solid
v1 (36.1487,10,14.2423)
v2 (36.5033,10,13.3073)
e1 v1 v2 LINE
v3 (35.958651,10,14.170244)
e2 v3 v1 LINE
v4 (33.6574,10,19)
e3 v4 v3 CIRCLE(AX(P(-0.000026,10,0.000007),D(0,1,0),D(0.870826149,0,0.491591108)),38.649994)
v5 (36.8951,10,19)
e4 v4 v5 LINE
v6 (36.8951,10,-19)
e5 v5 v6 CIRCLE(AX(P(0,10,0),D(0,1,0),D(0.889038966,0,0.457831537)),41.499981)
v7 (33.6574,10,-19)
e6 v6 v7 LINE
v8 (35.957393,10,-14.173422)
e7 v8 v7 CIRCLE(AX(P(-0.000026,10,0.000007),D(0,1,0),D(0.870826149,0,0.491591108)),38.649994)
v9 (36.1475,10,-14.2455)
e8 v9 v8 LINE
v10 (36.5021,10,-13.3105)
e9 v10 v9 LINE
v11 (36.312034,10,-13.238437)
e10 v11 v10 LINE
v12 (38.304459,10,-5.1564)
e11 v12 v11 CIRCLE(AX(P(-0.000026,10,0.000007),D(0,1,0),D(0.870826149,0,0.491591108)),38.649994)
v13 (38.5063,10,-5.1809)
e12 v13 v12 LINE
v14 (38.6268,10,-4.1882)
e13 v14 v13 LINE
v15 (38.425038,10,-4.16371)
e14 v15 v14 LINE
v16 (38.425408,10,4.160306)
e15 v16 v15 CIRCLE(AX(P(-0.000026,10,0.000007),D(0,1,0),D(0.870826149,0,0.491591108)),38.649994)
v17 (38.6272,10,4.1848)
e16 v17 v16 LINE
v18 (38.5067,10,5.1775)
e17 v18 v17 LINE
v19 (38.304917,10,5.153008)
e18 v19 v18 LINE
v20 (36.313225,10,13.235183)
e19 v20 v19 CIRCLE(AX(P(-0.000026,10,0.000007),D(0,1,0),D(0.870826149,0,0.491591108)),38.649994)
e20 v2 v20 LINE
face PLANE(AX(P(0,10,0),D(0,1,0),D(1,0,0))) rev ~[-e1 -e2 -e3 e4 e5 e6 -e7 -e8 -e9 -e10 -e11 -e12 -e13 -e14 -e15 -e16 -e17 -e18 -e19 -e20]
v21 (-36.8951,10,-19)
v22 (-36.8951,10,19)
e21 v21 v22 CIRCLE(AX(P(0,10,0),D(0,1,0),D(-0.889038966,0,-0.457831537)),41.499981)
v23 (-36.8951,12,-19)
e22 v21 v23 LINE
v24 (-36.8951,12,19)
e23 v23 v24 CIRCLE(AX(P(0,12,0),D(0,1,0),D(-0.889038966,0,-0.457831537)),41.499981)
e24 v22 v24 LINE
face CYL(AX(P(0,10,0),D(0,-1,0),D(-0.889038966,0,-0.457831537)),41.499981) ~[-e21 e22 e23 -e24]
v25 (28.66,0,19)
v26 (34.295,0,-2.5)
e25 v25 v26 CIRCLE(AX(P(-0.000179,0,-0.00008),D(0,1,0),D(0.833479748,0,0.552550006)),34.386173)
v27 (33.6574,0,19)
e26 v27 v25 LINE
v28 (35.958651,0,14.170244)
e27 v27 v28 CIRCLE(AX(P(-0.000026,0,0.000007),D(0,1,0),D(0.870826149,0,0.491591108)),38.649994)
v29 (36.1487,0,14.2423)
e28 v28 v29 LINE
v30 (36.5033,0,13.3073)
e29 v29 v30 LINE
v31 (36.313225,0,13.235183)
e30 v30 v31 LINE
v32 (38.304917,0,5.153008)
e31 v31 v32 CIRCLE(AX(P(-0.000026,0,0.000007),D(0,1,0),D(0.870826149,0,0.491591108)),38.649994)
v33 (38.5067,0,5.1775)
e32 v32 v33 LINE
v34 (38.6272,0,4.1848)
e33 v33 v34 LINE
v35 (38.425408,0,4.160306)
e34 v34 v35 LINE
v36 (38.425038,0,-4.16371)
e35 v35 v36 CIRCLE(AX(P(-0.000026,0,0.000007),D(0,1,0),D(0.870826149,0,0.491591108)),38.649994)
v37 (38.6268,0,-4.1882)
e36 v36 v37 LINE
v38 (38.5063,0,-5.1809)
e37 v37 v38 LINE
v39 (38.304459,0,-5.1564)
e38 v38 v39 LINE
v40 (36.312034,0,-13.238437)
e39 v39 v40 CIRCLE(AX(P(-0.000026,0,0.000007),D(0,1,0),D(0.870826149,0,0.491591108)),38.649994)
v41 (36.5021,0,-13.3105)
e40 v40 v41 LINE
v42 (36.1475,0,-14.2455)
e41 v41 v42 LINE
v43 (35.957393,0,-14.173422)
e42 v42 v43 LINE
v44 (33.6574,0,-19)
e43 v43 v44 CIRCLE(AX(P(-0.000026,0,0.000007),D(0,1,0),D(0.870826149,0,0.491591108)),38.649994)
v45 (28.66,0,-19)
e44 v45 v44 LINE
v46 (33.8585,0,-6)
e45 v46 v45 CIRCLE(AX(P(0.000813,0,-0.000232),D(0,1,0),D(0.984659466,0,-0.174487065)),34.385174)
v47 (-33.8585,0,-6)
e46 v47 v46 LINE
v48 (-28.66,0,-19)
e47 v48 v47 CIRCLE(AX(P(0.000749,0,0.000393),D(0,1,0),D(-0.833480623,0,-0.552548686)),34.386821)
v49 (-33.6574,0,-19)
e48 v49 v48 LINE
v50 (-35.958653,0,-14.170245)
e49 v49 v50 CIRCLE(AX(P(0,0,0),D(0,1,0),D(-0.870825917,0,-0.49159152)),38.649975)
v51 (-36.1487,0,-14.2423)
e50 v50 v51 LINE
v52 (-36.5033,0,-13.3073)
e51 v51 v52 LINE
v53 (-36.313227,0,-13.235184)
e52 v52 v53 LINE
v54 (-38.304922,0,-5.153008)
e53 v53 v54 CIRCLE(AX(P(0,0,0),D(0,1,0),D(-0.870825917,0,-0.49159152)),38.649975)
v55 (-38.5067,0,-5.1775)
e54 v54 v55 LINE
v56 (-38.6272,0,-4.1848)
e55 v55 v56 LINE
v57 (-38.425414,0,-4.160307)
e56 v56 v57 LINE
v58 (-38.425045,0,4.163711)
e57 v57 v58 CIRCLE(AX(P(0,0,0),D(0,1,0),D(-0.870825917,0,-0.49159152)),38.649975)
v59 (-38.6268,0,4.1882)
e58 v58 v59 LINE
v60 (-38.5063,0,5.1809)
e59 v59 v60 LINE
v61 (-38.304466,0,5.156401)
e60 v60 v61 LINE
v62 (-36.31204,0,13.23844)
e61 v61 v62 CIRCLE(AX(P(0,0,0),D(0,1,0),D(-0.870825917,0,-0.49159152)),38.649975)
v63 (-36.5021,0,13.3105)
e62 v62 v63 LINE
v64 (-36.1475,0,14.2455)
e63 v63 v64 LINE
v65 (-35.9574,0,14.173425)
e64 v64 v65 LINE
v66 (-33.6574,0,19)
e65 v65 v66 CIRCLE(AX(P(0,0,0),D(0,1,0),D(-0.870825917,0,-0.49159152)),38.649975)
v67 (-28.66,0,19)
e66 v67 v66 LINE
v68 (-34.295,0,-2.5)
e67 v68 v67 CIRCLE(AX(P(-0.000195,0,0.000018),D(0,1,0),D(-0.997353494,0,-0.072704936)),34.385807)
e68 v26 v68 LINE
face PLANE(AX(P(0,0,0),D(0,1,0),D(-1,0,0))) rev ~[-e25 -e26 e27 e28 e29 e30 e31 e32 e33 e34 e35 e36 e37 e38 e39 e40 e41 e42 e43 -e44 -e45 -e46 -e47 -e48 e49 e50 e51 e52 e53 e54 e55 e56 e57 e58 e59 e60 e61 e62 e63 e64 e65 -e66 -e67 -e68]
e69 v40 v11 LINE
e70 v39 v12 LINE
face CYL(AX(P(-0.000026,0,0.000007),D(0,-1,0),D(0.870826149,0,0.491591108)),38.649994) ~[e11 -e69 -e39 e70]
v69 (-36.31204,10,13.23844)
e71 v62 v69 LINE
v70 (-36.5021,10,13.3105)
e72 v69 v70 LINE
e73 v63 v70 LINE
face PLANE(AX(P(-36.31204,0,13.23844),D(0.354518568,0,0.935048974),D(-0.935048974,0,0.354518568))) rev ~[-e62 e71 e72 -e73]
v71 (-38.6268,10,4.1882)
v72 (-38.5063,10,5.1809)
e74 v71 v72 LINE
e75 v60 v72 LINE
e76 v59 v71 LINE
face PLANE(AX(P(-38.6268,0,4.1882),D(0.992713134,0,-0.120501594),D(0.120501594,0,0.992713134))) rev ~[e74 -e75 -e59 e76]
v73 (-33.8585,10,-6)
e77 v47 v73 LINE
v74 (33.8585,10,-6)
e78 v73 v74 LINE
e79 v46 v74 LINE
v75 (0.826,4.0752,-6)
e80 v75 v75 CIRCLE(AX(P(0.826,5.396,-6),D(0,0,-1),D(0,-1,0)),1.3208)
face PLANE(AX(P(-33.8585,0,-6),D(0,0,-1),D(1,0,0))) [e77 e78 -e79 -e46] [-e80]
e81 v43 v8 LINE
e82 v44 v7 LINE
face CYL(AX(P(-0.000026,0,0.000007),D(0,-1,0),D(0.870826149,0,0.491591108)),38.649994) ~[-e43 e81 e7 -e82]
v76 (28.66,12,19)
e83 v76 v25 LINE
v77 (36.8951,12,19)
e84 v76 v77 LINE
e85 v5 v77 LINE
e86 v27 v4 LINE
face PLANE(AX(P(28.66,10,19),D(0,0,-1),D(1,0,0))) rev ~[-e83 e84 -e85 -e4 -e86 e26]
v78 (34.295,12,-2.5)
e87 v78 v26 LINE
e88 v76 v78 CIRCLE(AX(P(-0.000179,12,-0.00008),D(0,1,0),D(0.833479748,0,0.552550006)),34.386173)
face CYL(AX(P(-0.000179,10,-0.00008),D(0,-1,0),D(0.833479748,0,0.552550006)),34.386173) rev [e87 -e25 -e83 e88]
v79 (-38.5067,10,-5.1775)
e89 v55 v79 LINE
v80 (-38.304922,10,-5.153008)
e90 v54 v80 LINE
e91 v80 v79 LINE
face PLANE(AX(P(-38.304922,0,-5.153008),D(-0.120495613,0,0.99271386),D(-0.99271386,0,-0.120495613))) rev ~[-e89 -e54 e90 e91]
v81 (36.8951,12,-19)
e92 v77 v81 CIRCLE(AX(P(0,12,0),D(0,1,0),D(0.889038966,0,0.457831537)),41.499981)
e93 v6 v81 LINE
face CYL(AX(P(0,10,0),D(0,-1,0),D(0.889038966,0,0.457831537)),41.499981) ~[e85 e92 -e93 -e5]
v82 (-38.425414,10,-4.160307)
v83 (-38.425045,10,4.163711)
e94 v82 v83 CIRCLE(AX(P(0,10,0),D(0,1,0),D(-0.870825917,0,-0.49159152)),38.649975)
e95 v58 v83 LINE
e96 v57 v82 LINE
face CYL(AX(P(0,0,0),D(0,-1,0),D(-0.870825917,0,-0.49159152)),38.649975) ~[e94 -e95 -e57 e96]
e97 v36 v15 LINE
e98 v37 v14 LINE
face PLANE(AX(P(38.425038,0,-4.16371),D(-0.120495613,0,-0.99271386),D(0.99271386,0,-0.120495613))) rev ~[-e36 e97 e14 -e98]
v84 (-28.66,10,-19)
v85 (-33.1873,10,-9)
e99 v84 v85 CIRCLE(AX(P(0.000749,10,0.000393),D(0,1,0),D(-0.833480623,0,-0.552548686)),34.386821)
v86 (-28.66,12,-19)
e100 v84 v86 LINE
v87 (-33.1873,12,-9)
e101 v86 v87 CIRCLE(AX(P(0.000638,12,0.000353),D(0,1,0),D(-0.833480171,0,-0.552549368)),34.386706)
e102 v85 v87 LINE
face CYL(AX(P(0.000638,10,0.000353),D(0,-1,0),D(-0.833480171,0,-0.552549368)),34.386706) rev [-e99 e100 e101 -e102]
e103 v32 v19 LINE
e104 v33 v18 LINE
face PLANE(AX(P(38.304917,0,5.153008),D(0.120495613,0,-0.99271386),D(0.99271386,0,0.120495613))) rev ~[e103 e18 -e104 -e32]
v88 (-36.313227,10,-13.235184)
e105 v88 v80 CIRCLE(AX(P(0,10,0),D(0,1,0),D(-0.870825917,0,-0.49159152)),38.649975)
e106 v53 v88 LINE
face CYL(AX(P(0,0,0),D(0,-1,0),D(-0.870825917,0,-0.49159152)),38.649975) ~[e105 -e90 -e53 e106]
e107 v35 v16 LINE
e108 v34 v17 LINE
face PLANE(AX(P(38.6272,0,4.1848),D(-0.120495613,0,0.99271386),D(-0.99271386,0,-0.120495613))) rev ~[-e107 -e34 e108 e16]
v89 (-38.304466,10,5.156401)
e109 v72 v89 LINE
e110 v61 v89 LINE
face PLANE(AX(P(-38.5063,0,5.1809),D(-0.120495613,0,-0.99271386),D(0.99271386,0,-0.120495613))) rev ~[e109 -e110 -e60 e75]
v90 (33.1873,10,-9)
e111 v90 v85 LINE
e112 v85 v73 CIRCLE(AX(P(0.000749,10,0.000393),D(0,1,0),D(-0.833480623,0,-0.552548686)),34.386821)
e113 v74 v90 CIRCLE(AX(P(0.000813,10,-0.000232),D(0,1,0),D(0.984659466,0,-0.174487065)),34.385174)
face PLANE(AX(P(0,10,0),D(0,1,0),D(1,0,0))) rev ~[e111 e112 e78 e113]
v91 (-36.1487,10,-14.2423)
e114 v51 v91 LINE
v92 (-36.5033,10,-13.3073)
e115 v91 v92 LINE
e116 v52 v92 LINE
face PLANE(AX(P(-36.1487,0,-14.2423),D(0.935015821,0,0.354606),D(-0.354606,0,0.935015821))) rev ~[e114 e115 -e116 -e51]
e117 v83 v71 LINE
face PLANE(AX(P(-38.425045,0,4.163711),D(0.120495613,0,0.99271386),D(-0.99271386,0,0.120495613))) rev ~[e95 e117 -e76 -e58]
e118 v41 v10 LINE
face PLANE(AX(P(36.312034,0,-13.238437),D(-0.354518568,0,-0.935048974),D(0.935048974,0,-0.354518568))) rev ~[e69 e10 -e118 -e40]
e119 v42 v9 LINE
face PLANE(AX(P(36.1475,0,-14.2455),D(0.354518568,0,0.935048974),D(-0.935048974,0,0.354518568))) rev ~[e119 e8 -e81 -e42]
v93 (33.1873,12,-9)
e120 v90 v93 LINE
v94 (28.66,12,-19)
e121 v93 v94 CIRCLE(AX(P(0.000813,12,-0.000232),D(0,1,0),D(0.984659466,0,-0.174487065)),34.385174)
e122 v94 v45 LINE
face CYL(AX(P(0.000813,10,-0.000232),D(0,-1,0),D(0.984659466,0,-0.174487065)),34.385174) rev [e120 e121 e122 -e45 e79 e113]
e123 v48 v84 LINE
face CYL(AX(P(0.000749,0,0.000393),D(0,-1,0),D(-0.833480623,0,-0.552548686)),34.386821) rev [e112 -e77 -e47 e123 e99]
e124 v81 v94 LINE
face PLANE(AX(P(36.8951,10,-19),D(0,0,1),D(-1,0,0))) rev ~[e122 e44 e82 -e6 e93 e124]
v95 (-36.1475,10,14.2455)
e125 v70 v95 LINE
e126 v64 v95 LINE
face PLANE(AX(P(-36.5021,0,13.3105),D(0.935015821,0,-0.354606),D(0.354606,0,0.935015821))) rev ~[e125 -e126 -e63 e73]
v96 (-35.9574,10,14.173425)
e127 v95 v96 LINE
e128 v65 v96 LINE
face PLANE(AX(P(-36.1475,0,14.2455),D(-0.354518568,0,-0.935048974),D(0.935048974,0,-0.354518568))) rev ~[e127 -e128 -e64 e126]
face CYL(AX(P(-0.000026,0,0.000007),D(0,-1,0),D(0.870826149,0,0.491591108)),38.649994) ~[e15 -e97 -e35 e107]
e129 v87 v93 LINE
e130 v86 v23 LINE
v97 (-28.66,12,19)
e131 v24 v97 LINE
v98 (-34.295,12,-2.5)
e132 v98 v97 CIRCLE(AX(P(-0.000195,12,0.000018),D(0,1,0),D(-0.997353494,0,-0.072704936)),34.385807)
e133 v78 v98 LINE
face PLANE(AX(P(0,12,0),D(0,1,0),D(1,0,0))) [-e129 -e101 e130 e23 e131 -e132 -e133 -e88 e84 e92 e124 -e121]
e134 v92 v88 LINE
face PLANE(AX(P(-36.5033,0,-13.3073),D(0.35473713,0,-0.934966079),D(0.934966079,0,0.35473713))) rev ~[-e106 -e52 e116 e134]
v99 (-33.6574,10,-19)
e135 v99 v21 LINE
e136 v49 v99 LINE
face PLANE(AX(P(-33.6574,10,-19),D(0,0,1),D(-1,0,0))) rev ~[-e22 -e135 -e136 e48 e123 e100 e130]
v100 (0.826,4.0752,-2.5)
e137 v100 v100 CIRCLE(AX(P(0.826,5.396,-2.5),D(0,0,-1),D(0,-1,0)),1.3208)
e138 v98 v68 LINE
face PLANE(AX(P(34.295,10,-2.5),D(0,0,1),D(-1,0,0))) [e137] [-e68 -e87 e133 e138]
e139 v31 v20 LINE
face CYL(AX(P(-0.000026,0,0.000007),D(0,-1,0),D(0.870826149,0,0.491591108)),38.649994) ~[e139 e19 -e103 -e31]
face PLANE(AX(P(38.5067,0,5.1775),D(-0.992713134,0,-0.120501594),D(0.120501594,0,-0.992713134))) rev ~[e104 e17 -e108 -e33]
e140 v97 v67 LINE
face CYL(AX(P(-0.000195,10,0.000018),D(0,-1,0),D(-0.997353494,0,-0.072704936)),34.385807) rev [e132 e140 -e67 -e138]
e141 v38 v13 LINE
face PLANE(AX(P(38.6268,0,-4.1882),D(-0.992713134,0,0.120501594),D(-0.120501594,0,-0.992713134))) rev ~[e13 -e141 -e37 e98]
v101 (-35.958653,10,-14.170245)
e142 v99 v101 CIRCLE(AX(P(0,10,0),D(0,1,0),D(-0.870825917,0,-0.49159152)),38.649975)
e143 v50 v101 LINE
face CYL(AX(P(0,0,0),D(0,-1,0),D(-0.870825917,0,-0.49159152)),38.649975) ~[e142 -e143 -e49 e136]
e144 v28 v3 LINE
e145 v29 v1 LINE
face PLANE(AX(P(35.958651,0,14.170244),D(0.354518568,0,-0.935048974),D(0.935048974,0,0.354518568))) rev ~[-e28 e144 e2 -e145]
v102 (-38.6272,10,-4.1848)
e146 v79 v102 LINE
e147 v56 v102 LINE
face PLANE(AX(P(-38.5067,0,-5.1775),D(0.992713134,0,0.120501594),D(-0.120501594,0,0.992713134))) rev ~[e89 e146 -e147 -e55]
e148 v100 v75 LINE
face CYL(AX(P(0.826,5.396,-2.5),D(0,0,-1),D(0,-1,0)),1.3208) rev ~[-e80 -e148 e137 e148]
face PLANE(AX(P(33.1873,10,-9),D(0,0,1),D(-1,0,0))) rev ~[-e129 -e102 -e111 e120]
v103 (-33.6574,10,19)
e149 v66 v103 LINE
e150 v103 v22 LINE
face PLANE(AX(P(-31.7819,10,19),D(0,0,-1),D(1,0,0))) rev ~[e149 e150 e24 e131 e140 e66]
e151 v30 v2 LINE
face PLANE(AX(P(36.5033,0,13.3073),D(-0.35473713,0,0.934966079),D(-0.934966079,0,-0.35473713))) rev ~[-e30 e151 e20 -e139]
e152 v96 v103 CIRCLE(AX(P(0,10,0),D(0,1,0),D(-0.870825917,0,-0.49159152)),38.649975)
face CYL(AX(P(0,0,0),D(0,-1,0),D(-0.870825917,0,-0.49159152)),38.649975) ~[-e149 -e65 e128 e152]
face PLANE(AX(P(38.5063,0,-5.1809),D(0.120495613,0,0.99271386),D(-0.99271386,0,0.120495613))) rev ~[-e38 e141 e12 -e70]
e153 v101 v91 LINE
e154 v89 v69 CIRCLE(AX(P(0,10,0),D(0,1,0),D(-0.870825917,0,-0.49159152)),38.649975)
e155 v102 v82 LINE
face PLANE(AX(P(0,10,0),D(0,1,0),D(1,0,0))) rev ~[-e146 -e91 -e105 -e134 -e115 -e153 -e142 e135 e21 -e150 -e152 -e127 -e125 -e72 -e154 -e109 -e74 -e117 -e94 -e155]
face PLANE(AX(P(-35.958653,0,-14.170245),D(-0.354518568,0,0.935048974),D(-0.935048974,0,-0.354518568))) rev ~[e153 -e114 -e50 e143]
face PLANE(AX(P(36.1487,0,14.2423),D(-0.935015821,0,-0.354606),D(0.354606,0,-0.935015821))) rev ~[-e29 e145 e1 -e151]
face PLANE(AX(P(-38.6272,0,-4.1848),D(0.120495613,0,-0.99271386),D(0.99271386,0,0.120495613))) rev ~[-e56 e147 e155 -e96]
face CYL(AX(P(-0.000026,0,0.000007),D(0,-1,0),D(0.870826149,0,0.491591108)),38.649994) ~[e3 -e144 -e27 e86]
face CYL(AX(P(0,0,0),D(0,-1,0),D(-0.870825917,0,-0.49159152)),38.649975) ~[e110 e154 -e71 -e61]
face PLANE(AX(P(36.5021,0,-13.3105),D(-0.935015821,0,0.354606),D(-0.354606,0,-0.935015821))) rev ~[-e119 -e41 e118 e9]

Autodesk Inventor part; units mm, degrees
ref_plane "YZ Plane" through (0, 0, 0) normal (1, 0, 0) x (0, 1, 0)
ref_plane "XZ Plane" through (0, 0, 0) normal (0, 1, 0) x (-1, 0, 0)
ref_plane "XY Plane" through (0, 0, 0) normal (0, 0, 1) x (1, 0, 0)
sketch "Sketch1" plane through (0, 0, 0) normal (0, 1, 0) x (-1, 0, 0)
  line L0 (33.8585, -6) -> (-33.8585, -6)
  line L1 (-34.295, -2.5) -> (34.295, -2.5)
  line L2 (0.5017, -38.45) -> (-0.4983, -38.45)
  line L3 (-0.4983, -38.45) -> (-0.4983, -38.85)
  line L4 (-0.4983, -38.85) -> (0.5017, -38.85)
  line L5 (0.5017, -38.85) -> (0.5017, -38.45)
  line L6 (0.5017, -38.45) -> (-0.4983, -38.85) construction
  line L7 (-0.4983, -38.45) -> (0.5017, -38.85) construction
  line L8 (9.6888, -37.2126) -> (8.7179, -37.452)
  line L9 (8.7179, -37.452) -> (8.8136, -37.8403)
  line L10 (8.8136, -37.8403) -> (9.7846, -37.601)
  line L11 (9.7846, -37.601) -> (9.6888, -37.2126)
  line L12 (18.3129, -33.8126) -> (17.4274, -34.2773)
  line L13 (17.4274, -34.2773) -> (17.6133, -34.6315)
  line L14 (17.6133, -34.6315) -> (18.4987, -34.1668)
  line L15 (18.4987, -34.1668) -> (18.3129, -33.8126)
  line L16 (25.8726, -28.4475) -> (25.1241, -29.1107)
  line L17 (25.1241, -29.1107) -> (25.3893, -29.4101)
  line L18 (25.3893, -29.4101) -> (26.1379, -28.7469)
  line L19 (26.1379, -28.7469) -> (25.8726, -28.4475)
  line L20 (31.9287, -21.4292) -> (31.3607, -22.2522)
  line L21 (31.3607, -22.2522) -> (31.6899, -22.4794)
  line L22 (31.6899, -22.4794) -> (32.2579, -21.6564)
  line L23 (32.2579, -21.6564) -> (31.9287, -21.4292)
  line L24 (36.1293, -13.1654) -> (35.7747, -14.1005)
  line L25 (35.7747, -14.1005) -> (36.1487, -14.2423)
  line L26 (36.1487, -14.2423) -> (36.5033, -13.3073)
  line L27 (36.5033, -13.3073) -> (36.1293, -13.1654)
  line L28 (38.2301, -4.1366) -> (38.1096, -5.1293)
  line L29 (38.1096, -5.1293) -> (38.5067, -5.1775)
  line L30 (38.5067, -5.1775) -> (38.6272, -4.1848)
  line L31 (38.6272, -4.1848) -> (38.2301, -4.1366)
  line L32 (38.1092, 5.1327) -> (38.2297, 4.14)
  line L33 (38.2297, 4.14) -> (38.6268, 4.1882)
  line L34 (38.6268, 4.1882) -> (38.5063, 5.1809)
  line L35 (38.5063, 5.1809) -> (38.1092, 5.1327)
  line L36 (35.7735, 14.1037) -> (36.1281, 13.1687)
  line L37 (36.1281, 13.1687) -> (36.5021, 13.3105)
  line L38 (36.5021, 13.3105) -> (36.1475, 14.2455)
  line L39 (36.1475, 14.2455) -> (35.7735, 14.1037)
  line L40 (31.3587, 22.255) -> (31.9268, 21.432)
  line L41 (31.9268, 21.432) -> (32.256, 21.6592)
  line L42 (32.256, 21.6592) -> (31.6879, 22.4822)
  line L43 (31.6879, 22.4822) -> (31.3587, 22.255)
  line L44 (25.1215, 29.1129) -> (25.87, 28.4498)
  line L45 (25.87, 28.4498) -> (26.1353, 28.7492)
  line L46 (26.1353, 28.7492) -> (25.3868, 29.4123)
  line L47 (25.3868, 29.4123) -> (25.1215, 29.1129)
  line L48 (17.4244, 34.2789) -> (18.3098, 33.8142)
  line L49 (18.3098, 33.8142) -> (18.4957, 34.1684)
  line L50 (18.4957, 34.1684) -> (17.6102, 34.6331)
  line L51 (17.6102, 34.6331) -> (17.4244, 34.2789)
  line L52 (8.7145, 37.4528) -> (9.6855, 37.2135)
  line L53 (9.6855, 37.2135) -> (9.7812, 37.6018)
  line L54 (9.7812, 37.6018) -> (8.8103, 37.8412)
  line L55 (8.8103, 37.8412) -> (8.7145, 37.4528)
  line L56 (-0.5017, 38.45) -> (0.4983, 38.45)
  line L57 (0.4983, 38.45) -> (0.4983, 38.85)
  line L58 (0.4983, 38.85) -> (-0.5017, 38.85)
  line L59 (-0.5017, 38.85) -> (-0.5017, 38.45)
  line L60 (-9.6888, 37.2126) -> (-8.7179, 37.452)
  line L61 (-8.7179, 37.452) -> (-8.8136, 37.8403)
  line L62 (-8.8136, 37.8403) -> (-9.7846, 37.601)
  line L63 (-9.7846, 37.601) -> (-9.6888, 37.2126)
  line L64 (-18.3129, 33.8126) -> (-17.4274, 34.2773)
  line L65 (-17.4274, 34.2773) -> (-17.6133, 34.6315)
  line L66 (-17.6133, 34.6315) -> (-18.4987, 34.1668)
  line L67 (-18.4987, 34.1668) -> (-18.3129, 33.8126)
  line L68 (-25.8726, 28.4475) -> (-25.1241, 29.1107)
  line L69 (-25.1241, 29.1107) -> (-25.3893, 29.4101)
  line L70 (-25.3893, 29.4101) -> (-26.1379, 28.7469)
  line L71 (-26.1379, 28.7469) -> (-25.8726, 28.4475)
  line L72 (-31.9287, 21.4292) -> (-31.3607, 22.2522)
  line L73 (-31.3607, 22.2522) -> (-31.6899, 22.4794)
  line L74 (-31.6899, 22.4794) -> (-32.2579, 21.6564)
  line L75 (-32.2579, 21.6564) -> (-31.9287, 21.4292)
  line L76 (-36.1293, 13.1654) -> (-35.7747, 14.1005)
  line L77 (-35.7747, 14.1005) -> (-36.1487, 14.2423)
  line L78 (-36.1487, 14.2423) -> (-36.5033, 13.3073)
  line L79 (-36.5033, 13.3073) -> (-36.1293, 13.1654)
  line L80 (-38.2301, 4.1366) -> (-38.1096, 5.1293)
  line L81 (-38.1096, 5.1293) -> (-38.5067, 5.1775)
  line L82 (-38.5067, 5.1775) -> (-38.6272, 4.1848)
  line L83 (-38.6272, 4.1848) -> (-38.2301, 4.1366)
  line L84 (-38.1092, -5.1327) -> (-38.2297, -4.14)
  line L85 (-38.2297, -4.14) -> (-38.6268, -4.1882)
  line L86 (-38.6268, -4.1882) -> (-38.5063, -5.1809)
  line L87 (-38.5063, -5.1809) -> (-38.1092, -5.1327)
  line L88 (-35.7735, -14.1037) -> (-36.1281, -13.1687)
  line L89 (-36.1281, -13.1687) -> (-36.5021, -13.3105)
  line L90 (-36.5021, -13.3105) -> (-36.1475, -14.2455)
  line L91 (-36.1475, -14.2455) -> (-35.7735, -14.1037)
  line L92 (-31.3587, -22.255) -> (-31.9268, -21.432)
  line L93 (-31.9268, -21.432) -> (-32.256, -21.6592)
  line L94 (-32.256, -21.6592) -> (-31.6879, -22.4822)
  line L95 (-31.6879, -22.4822) -> (-31.3587, -22.255)
  line L96 (-25.1215, -29.1129) -> (-25.87, -28.4498)
  line L97 (-25.87, -28.4498) -> (-26.1353, -28.7492)
  line L98 (-26.1353, -28.7492) -> (-25.3868, -29.4123)
  line L99 (-25.3868, -29.4123) -> (-25.1215, -29.1129)
  line L100 (-17.4244, -34.2789) -> (-18.3098, -33.8142)
  line L101 (-18.3098, -33.8142) -> (-18.4957, -34.1684)
  line L102 (-18.4957, -34.1684) -> (-17.6102, -34.6331)
  line L103 (-17.6102, -34.6331) -> (-17.4244, -34.2789)
  line L104 (-8.7145, -37.4528) -> (-9.6855, -37.2135)
  line L105 (-9.6855, -37.2135) -> (-9.7812, -37.6018)
  line L106 (-9.7812, -37.6018) -> (-8.8103, -37.8412)
  line L107 (-8.8103, -37.8412) -> (-8.7145, -37.4528)
  arc A0 (-33.6574, 19) -> (32.0907, -21.5409) centre (0, 0) ccw
  arc A1 (33.6574, -19) -> (33.6574, 19) centre (0, 0) ccw
  arc A2 (32.0887, 21.5438) -> (-32.0907, 21.5409) centre (0, 0) ccw
  line L108 (36.1642, -3.8857) -> (36.1642, -3.8892)
  line L109 (36.1642, -4.8931) -> (36.1642, -4.8965)
  line L110 (-34.9312, -4.7468) -> (-34.9312, -4.7433)
  line L111 (-34.9312, -3.7395) -> (-34.9312, -3.736)
  line L112 (33.6574, -19) -> (28.66, -19)
  line L113 (-28.66, -19) -> (-33.6574, -19)
  line L114 (-33.6574, 19) -> (-28.66, 19)
  line L115 (28.66, 19) -> (33.6574, 19)
  arc A3 (28.66, -19) -> (33.8585, -6) centre (0, 0) ccw
  arc A4 (34.295, -2.5) -> (28.66, 19) centre (0, 0) ccw
  arc A5 (-28.66, 19) -> (-34.295, -2.5) centre (0, 0) ccw
  arc A6 (-33.8585, -6) -> (-28.66, -19) centre (0, 0) ccw
  point P0 (0.0017, -38.65)
  point P1 (35.9587, -14.1702)
  point P2 (36.3132, -13.2352)
  point P3 (38.3049, -5.153)
  point P4 (38.4254, -4.1603)
  point P5 (38.4251, 4.1637)
  point P6 (38.3045, 5.1564)
  point P7 (36.3121, 13.2384)
  point P8 (35.9574, 14.1734)
  point P9 (-35.9587, 14.1702)
  point P10 (-36.3132, 13.2352)
  point P11 (-38.3049, 5.153)
  point P12 (-38.4254, 4.1603)
  point P13 (-38.4251, -4.1637)
  point P14 (-38.3045, -5.1564)
  point P15 (-36.3121, -13.2384)
  point P16 (-35.9574, -14.1734)
  dimension "d2" = 2.5
  dimension "d3" = 3.5
  dimension "d10" = 1
  dimension "d11" = 0.4
  dimension "d14" = 360
  dimension "d18" = 38.65
  dimension "d19" = 4.9974
extrude "Extrusion1" add sketch "Sketch1" along normal blind 10 contours L0 A6 L113 A0 L91 L88 L89 L87 L84 L85 L83 L80 L81 L79 L76 L77 L114 A5 L1 A4 L115 A1 L39 L36 L37 L35 L32 L33 L31 L28 L29 L27 L24 L25 L112 A3 | A1 L27 L26 L25 | L25 L24 L27 A1 | A0 L89 L88 L91 | L91 L90 L89 A0 | A1 L31 L30 L29 | L29 L28 L31 A1 | A0 L85 L84 L87 | L87 L86 L85 A0 | A1 L35 L34 L33 | L33 L32 L35 A1 | A0 L81 L80 L83 | L83 L82 L81 A0 | A1 L39 L38 L37 | L37 L36 L39 A1 | A0 L77 L76 L79 | L79 L78 L77 A0
sketch "Sketch2" plane through (0, 10, 0) normal (0, 1, 0) x (1, 0, 0)
  arc A0 (33.8585, 6) -> (28.66, 19) centre (0, 0) ccw projected
  line L0 (34.295, 2.5) -> (-34.295, 2.5)
  line L1 (-3.804, 9) -> (7.0469, 9)
  line L2 (33.1873, 9) -> (-33.1873, 9)
  line L3 (-28.66, 19) -> (-33.6574, 19) projected
  line L4 (-33.6574, -19) -> (-28.66, -19) projected
  line L5 (-28.66, -19) -> (-36.8951, -19)
  arc A1 (-34.295, 2.5) -> (-28.66, -19) centre (0, 0) ccw
  arc A2 (28.66, -19) -> (34.295, 2.5) centre (0, 0) ccw
  arc A3 (36.8951, -19) -> (36.8951, 19) centre (0, 0) ccw
  arc A4 (-36.8951, 19) -> (-36.8951, -19) centre (0, 0) ccw
  arc A5 (33.1873, 9) -> (28.66, 19) centre (0, 0) ccw
  arc A6 (-28.66, 19) -> (-33.1873, 9) centre (0, 0) ccw
  line L6 (36.8951, 19) -> (28.66, 19)
  line L7 (-28.66, 19) -> (-36.8951, 19)
  line L8 (-31.7819, -19) -> (-28.66, -19)
  line L9 (28.66, -19) -> (36.8951, -19)
  line L10 (-30.5962, 19) -> (-28.66, 19)
  line L11 (28.66, 19) -> (36.8951, 19)
  point P0 (28.66, 19)
  point P1 (7.0469, 9)
  dimension "d24" = 41.5
  dimension "d25" = 6.5
extrude "Extrusion2" add sketch "Sketch2" along normal blind 2
sketch "Sketch3" plane through (-34.295, 0, -2.5) normal (0, 0, 1) x (1, 0, 0)
  line L0 (0, 12) -> (68.59, 12) projected
  line L1 (0, 0) -> (0, 12) projected
  point P0 (34.295, 0)
  point P1 (35.121, 5.396)
  dimension "d28" = 6.604
  dimension "d29" = 35.121
hole "Hole1" at (0.826, 5.396, -2.5) direction (0, 0, -1) diameter 2.6416 depth 10.979 thread size "6-32 UNC" class "2B" standard "ANSI Unified Screw Threads"
properties part number "AQS_Mount_3DPrint"
